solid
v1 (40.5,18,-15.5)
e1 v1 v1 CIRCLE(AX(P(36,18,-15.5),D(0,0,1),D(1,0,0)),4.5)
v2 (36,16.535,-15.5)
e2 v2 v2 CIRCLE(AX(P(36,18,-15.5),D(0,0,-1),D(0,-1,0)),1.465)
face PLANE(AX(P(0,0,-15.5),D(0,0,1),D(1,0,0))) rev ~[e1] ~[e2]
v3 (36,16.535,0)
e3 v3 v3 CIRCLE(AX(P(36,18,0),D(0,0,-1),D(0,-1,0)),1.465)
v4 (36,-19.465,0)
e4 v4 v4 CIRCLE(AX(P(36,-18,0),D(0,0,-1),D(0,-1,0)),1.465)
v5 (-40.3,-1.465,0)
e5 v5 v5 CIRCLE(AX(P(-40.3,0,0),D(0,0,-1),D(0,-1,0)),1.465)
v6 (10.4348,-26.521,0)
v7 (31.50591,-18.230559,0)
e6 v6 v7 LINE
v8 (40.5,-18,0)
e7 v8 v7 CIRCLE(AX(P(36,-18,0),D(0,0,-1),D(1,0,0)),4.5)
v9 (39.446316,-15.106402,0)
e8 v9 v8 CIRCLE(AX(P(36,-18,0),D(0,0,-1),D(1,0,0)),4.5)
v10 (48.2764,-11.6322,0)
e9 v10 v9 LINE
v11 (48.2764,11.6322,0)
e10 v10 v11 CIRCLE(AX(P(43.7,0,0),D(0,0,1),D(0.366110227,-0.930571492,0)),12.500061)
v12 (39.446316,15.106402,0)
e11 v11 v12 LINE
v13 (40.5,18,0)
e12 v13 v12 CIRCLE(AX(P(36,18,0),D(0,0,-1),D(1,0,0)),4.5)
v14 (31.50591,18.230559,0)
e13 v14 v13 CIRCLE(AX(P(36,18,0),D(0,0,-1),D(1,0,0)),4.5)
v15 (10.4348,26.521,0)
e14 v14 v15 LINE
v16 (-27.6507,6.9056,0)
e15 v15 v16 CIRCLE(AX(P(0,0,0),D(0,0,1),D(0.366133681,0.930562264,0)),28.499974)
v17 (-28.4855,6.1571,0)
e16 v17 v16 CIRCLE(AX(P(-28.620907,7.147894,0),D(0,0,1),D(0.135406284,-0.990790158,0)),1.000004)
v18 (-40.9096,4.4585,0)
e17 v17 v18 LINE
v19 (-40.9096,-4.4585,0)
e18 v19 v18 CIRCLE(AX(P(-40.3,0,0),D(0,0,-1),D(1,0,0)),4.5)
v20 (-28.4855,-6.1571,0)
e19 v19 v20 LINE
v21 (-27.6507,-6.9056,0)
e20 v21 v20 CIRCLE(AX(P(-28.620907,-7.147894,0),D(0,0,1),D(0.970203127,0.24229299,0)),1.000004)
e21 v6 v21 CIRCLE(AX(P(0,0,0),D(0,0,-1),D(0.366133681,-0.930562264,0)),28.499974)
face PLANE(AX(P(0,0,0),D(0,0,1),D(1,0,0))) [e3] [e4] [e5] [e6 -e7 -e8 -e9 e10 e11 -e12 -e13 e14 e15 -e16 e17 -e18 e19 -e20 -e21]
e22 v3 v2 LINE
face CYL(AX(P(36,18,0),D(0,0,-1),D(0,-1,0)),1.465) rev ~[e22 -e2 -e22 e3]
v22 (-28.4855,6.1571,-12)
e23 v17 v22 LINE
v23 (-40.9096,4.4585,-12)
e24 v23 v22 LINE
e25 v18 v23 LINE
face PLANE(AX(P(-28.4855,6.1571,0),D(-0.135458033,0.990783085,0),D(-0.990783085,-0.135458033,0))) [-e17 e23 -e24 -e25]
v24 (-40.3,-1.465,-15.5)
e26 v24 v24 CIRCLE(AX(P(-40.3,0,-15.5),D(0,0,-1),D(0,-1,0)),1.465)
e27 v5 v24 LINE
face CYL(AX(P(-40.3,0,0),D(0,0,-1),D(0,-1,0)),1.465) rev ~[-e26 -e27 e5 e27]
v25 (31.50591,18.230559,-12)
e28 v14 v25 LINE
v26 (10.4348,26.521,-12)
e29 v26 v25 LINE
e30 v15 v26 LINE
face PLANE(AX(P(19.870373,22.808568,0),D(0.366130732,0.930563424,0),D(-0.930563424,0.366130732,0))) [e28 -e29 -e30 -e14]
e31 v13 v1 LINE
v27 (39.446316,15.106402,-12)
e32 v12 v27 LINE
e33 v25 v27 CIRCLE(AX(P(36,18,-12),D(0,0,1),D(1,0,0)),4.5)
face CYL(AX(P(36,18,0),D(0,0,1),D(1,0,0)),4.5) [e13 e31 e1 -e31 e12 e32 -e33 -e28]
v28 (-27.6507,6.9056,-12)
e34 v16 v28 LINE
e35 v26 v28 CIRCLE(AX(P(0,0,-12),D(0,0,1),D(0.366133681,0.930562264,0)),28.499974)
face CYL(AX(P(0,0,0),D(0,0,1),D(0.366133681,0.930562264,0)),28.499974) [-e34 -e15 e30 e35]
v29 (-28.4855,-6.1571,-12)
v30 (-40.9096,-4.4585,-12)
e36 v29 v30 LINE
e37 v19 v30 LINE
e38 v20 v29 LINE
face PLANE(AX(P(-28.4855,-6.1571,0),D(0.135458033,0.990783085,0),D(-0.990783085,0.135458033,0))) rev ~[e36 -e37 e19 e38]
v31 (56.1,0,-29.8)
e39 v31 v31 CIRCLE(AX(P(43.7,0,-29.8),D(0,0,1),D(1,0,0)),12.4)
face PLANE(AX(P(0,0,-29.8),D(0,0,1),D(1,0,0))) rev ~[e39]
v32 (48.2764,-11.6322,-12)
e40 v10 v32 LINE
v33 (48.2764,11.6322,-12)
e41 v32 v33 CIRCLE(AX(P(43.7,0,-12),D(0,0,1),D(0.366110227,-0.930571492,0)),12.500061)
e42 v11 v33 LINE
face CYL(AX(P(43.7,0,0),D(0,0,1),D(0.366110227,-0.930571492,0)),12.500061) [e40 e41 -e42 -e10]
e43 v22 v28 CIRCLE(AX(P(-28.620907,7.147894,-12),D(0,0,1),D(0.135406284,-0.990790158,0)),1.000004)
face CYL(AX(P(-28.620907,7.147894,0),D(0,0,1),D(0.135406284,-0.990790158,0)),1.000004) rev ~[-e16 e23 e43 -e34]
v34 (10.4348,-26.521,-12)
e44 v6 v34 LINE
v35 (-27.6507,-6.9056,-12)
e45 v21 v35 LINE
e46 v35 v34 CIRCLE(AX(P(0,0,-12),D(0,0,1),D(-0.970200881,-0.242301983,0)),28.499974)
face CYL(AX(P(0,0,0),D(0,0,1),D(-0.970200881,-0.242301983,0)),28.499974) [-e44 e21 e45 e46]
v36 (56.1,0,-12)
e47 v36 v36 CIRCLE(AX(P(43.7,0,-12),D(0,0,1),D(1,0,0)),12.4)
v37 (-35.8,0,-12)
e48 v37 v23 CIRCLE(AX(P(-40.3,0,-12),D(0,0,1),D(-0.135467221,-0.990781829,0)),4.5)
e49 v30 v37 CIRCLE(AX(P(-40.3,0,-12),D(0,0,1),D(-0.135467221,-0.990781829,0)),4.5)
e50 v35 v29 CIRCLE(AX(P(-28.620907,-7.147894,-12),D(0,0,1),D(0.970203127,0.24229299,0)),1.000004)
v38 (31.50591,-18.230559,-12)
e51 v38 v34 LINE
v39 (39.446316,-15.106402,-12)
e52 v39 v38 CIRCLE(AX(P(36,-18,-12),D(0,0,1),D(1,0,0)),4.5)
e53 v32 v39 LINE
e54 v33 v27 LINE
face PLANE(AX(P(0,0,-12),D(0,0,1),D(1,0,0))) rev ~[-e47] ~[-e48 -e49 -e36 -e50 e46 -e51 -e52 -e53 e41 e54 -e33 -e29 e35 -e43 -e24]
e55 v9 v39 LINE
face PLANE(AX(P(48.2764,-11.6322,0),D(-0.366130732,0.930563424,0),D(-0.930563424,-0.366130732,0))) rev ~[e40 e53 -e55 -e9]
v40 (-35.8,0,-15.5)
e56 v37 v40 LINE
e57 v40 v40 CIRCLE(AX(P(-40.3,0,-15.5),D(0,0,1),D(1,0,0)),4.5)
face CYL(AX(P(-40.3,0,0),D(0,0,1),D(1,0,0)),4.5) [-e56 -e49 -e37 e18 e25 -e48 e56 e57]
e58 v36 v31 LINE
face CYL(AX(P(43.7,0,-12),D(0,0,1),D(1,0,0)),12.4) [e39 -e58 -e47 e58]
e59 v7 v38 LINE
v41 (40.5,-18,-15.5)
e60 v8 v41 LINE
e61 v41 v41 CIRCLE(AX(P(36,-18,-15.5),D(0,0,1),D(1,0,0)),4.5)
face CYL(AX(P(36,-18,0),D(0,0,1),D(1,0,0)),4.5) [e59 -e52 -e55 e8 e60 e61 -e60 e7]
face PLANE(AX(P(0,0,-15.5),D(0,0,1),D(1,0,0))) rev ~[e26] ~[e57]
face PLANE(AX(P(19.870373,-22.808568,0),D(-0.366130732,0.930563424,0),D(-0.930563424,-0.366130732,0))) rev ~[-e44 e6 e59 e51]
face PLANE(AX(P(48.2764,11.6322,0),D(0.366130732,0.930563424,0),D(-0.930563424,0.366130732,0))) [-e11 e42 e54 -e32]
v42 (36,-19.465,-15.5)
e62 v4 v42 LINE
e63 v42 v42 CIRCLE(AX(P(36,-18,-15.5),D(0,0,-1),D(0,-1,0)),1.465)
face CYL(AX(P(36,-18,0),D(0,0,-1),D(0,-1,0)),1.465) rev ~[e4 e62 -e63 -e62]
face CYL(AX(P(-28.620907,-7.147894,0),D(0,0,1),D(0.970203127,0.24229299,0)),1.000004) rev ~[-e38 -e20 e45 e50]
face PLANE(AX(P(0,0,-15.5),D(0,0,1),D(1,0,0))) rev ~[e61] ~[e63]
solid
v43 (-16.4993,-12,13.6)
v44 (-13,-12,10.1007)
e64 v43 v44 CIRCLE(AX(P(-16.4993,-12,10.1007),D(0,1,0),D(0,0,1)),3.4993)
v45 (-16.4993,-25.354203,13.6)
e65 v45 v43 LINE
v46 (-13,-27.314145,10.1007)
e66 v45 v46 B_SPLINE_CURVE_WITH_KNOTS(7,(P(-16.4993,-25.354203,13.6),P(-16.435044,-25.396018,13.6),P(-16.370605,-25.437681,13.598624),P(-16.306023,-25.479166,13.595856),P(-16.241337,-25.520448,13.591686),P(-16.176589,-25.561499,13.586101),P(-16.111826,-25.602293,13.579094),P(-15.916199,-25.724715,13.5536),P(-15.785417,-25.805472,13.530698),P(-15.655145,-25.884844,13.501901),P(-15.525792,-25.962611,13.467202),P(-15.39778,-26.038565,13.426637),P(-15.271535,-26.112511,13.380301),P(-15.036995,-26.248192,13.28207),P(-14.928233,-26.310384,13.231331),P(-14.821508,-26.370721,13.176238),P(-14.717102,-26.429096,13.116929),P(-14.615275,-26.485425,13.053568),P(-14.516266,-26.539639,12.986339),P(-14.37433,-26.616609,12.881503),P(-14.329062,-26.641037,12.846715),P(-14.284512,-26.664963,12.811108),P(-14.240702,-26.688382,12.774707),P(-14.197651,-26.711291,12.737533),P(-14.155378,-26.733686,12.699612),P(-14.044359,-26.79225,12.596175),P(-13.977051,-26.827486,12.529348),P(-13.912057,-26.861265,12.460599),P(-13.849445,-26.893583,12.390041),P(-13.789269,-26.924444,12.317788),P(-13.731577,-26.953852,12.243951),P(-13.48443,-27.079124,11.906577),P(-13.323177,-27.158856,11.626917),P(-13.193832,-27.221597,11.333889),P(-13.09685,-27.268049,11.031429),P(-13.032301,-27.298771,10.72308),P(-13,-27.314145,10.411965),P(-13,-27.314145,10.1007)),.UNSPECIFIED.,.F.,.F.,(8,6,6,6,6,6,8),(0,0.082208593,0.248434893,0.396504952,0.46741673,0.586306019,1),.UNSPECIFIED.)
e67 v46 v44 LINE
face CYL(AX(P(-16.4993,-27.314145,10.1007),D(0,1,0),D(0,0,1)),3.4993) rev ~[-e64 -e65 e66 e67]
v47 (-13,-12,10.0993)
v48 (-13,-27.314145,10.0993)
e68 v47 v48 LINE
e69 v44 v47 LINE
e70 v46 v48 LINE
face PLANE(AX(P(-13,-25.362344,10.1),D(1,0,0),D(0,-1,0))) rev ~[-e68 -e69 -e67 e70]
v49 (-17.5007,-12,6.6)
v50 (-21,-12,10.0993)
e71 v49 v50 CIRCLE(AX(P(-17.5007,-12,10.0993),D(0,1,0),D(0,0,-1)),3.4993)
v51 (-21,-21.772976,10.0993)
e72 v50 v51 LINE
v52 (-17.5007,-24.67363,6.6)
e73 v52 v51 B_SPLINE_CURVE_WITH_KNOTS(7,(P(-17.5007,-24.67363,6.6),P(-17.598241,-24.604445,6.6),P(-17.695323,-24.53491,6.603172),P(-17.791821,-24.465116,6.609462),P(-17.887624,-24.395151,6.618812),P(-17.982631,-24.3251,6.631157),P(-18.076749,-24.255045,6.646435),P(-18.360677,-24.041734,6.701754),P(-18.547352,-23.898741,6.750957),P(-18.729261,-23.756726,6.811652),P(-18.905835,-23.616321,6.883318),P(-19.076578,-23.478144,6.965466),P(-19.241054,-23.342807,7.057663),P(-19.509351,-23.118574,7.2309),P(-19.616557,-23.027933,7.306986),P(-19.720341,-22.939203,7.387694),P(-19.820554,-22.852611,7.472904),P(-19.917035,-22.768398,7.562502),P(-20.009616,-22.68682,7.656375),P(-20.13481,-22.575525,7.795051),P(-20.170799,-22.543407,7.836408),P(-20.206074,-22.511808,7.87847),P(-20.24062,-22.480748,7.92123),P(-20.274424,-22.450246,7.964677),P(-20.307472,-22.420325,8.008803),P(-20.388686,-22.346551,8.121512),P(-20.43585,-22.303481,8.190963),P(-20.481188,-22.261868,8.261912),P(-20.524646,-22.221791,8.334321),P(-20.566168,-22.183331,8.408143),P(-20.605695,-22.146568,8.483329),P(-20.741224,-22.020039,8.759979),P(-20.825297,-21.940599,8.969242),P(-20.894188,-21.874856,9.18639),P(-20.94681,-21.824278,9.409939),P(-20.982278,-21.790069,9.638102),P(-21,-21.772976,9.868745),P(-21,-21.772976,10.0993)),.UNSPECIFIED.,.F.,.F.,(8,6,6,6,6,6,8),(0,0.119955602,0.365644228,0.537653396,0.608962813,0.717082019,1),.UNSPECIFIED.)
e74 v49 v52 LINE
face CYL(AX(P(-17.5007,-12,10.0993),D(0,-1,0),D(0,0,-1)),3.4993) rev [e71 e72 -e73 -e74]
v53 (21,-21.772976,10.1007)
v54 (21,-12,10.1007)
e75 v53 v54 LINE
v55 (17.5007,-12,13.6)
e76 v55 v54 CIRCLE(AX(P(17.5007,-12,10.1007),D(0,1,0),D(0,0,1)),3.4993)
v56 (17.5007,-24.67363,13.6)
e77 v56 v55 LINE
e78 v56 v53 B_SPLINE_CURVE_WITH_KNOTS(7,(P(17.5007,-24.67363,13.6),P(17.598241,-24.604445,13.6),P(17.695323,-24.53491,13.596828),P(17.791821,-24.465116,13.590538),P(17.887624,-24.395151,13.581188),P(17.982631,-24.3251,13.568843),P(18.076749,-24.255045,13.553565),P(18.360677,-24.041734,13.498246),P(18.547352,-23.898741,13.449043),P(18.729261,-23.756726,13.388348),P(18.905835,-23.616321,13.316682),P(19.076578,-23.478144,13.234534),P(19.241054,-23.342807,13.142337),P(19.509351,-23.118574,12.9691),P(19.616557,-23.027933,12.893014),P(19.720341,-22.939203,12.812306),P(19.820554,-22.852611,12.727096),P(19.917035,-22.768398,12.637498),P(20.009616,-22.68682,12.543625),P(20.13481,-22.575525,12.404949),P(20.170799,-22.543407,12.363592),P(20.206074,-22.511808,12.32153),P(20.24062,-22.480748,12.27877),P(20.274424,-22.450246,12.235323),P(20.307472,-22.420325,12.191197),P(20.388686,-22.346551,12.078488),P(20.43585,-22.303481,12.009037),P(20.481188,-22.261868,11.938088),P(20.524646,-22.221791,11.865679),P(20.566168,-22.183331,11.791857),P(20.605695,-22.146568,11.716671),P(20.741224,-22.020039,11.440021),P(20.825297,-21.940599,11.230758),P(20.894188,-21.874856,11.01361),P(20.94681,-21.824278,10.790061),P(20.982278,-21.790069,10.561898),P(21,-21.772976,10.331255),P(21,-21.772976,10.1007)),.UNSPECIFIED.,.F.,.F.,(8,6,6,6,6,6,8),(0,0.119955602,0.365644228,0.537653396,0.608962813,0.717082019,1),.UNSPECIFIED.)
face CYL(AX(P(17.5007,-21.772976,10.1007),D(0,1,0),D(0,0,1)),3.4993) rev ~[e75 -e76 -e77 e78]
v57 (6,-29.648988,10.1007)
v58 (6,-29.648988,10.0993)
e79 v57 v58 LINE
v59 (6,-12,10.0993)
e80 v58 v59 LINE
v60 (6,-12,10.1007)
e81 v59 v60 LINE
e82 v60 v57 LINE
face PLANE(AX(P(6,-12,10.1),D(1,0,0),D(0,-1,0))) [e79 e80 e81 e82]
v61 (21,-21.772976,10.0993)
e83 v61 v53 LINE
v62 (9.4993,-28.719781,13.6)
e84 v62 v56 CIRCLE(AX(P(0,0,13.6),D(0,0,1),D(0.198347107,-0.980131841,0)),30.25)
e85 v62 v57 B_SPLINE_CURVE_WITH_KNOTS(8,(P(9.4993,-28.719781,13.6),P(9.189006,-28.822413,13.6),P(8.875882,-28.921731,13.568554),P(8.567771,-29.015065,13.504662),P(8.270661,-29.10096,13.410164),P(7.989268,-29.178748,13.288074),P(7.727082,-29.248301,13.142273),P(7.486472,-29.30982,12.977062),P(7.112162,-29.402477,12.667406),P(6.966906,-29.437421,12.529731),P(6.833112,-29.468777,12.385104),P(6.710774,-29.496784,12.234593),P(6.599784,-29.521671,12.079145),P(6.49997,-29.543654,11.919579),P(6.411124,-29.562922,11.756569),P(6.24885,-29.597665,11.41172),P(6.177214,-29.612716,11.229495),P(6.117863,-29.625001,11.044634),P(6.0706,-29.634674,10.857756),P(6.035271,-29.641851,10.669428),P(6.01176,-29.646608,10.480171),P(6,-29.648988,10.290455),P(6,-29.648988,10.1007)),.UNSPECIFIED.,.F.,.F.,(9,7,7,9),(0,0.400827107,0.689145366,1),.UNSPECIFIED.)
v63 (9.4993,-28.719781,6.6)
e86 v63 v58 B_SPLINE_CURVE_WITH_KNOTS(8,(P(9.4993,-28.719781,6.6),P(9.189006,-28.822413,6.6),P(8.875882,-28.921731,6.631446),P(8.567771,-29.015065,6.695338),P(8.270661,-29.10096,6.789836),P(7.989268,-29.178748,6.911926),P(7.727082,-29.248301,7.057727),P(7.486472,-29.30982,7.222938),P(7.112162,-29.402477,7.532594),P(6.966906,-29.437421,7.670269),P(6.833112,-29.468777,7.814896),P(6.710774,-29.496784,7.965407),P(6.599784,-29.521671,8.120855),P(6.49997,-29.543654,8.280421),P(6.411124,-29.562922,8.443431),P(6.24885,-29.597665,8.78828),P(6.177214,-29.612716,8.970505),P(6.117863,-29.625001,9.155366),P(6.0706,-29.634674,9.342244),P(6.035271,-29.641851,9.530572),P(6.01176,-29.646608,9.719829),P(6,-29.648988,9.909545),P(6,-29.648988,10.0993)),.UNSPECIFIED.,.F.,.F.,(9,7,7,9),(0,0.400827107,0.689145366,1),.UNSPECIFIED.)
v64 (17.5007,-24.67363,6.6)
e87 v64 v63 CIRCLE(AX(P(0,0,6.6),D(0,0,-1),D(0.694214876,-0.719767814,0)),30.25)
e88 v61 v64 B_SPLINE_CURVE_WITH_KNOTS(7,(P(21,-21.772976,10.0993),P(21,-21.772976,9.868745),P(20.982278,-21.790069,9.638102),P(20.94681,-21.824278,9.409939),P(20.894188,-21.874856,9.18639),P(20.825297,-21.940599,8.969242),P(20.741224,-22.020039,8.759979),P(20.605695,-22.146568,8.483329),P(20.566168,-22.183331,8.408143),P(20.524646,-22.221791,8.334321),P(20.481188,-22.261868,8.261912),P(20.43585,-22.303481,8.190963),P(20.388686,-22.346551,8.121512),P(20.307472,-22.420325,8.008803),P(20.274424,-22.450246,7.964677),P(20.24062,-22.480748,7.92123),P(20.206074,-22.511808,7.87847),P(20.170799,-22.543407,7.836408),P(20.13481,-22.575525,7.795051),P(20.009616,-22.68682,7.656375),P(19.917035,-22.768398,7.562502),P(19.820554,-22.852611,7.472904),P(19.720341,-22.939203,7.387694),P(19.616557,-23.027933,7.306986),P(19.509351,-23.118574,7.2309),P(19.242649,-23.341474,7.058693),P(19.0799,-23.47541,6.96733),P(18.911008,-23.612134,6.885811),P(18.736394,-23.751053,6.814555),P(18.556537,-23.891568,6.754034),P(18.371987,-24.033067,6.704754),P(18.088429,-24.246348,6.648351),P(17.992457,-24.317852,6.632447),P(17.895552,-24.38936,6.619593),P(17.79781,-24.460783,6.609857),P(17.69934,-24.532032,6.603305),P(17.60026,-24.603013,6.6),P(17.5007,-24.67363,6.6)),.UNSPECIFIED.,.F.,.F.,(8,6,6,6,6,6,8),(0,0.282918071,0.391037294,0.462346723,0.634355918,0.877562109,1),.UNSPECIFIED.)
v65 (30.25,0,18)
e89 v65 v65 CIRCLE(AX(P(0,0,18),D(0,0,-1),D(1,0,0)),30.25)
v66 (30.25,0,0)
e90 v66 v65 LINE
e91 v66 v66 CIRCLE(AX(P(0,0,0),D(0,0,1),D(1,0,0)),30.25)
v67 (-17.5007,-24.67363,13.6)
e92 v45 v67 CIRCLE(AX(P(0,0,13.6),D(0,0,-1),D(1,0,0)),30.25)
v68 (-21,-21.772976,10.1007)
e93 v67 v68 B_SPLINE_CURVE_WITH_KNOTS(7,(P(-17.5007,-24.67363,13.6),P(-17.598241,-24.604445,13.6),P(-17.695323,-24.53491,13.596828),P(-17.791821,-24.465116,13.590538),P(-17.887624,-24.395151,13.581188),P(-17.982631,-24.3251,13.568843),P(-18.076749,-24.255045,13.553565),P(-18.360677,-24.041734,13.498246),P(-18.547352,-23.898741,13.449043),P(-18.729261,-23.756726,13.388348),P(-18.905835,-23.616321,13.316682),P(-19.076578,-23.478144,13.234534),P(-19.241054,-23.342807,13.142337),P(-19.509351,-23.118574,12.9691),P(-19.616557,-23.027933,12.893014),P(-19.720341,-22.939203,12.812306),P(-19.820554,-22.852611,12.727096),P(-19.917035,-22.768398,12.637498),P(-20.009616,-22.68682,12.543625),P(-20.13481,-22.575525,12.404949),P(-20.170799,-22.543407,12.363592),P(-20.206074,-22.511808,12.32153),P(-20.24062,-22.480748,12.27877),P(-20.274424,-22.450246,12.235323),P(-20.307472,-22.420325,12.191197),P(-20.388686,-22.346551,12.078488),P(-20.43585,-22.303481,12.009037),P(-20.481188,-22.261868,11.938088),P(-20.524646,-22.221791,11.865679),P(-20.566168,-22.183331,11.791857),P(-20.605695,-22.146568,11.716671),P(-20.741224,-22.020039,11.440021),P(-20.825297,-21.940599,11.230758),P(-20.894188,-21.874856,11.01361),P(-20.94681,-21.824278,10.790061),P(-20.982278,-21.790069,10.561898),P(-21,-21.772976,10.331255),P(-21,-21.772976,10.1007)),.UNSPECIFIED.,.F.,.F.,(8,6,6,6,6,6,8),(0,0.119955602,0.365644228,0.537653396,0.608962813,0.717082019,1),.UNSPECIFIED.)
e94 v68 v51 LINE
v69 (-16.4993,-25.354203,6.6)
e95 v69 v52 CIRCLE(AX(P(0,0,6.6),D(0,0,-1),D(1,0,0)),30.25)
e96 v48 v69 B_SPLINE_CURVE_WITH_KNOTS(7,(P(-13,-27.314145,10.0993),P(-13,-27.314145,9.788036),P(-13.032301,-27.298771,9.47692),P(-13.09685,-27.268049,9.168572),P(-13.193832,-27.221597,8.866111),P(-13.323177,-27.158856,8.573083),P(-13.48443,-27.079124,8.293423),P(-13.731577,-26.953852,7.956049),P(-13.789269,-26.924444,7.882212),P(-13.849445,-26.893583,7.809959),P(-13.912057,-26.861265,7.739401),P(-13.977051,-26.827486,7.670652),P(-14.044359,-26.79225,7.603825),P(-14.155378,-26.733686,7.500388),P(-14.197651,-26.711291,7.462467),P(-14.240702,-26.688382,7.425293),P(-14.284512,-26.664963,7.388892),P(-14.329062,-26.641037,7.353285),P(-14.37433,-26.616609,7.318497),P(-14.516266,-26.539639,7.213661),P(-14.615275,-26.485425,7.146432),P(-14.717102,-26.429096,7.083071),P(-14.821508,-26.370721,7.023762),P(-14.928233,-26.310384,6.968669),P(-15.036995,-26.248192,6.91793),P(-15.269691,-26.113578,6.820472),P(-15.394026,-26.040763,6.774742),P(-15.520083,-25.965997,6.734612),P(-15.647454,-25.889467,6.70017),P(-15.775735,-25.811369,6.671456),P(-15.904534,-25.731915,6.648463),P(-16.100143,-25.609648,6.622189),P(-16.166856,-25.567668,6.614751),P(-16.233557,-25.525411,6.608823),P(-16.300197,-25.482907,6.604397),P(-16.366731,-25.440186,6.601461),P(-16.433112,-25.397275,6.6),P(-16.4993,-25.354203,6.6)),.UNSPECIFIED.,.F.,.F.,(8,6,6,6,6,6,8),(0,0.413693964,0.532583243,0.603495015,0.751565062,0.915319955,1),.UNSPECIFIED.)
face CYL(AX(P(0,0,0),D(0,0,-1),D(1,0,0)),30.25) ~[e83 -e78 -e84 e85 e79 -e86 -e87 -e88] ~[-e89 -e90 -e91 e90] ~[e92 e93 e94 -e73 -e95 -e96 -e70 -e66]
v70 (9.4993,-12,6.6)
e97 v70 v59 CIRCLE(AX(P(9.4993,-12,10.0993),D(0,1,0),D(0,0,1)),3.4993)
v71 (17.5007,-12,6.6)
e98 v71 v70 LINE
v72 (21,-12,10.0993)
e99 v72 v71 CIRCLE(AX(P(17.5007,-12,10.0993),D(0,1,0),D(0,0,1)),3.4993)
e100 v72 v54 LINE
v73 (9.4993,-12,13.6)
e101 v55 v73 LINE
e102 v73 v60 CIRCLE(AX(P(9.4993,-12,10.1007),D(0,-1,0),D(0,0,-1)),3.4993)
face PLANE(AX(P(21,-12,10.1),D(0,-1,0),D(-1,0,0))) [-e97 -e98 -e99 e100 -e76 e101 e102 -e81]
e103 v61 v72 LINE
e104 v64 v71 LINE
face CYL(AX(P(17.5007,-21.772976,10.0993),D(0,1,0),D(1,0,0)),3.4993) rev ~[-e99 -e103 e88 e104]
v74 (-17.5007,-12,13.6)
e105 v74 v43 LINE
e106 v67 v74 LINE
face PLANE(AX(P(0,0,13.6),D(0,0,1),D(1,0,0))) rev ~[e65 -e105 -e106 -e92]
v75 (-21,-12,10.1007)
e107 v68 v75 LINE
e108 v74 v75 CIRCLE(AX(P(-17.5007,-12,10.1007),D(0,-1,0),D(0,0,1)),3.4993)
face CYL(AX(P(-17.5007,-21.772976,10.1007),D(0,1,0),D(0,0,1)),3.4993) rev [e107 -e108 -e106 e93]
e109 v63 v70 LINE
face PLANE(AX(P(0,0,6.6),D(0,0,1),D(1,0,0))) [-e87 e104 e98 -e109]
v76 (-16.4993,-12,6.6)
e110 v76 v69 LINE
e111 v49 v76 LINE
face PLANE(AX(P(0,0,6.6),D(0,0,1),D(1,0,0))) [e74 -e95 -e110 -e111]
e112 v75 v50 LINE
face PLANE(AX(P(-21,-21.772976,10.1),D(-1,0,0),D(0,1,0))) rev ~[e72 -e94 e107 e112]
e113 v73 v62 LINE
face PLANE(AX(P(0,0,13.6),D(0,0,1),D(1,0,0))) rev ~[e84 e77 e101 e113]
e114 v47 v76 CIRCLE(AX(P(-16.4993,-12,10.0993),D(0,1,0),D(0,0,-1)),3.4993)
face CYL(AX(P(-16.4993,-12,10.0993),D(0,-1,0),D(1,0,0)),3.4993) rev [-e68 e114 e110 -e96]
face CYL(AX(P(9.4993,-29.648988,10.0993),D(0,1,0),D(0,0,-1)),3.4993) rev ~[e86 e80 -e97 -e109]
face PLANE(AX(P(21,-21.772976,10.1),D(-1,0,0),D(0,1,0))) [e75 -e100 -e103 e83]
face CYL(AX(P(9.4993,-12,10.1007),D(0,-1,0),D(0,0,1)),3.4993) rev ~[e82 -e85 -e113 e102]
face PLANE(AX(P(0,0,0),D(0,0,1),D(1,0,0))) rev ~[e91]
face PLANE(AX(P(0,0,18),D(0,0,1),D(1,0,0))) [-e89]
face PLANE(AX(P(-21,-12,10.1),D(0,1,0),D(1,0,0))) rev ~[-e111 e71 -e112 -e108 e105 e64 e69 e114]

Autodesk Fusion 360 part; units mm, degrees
sketch "Sketch1" plane through (0, 0, 0) normal (0, 0, 1) x (1, 0, 0)
  circle A0 centre (0, 0) radius 30.25
  circle A1 centre (-40.3, 0) radius 4.5
  line L0 (-44.8, 0) -> (56.2, 0) construction
  circle A2 centre (36, 18) radius 4.5
  circle A3 centre (36, -18) radius 4.5
  line L1 (48.2764, -11.6322) -> (10.4348, -26.521)
  line L2 (48.2764, 11.6322) -> (10.4348, 26.521)
  circle A4 centre (43.7, 0) radius 12.4
  arc A5 (48.2764, -11.6322) -> (48.2764, 11.6322) centre (43.7, 0) ccw
  line L3 (-26, 0) -> (-26, 6.25) construction
  line L4 (-26, 6.25) -> (-27.8062, 6.25) construction
  line L5 (-28.4855, 6.1571) -> (-40.9096, 4.4585)
  line L6 (-28.4855, -6.1571) -> (-40.9096, -4.4585)
  arc A6 (10.4348, 26.521) -> (-27.6507, 6.9056) centre (0, 0) ccw
  arc A7 (-27.6507, -6.9056) -> (10.4348, -26.521) centre (0, 0) ccw
  arc A8 (-28.4855, 6.1571) -> (-27.6507, 6.9056) centre (-28.6209, 7.1479) ccw
  arc A9 (-27.6507, -6.9056) -> (-28.4855, -6.1571) centre (-28.6209, -7.1479) ccw
  line L7 (0, -32) -> (6, -32) construction
  line L8 (6, -32) -> (21, -32)
  line L9 (21, -32) -> (21, -12)
  line L10 (21, -12) -> (6, -12)
  line L11 (6, -12) -> (6, -32)
  line L12 (0, -32) -> (-13, -32) construction
  line L13 (-13, -32) -> (-21, -32)
  line L14 (-21, -32) -> (-21, -12)
  line L15 (-21, -12) -> (-13, -12)
  line L16 (-13, -12) -> (-13, -32)
  point P0 (-40.3, 0)
  dimension "d1" = 60.5
  dimension "d2" = 36
  dimension "d3" = 40.3
  dimension "d5" = 9
  dimension "d6" = 101
  dimension "d7" = 57
  dimension "d8" = 25
  dimension "d9" = 12.5
  dimension "d10" = 9
  dimension "d11" = 9
  dimension "d14" = 24.8
  dimension "d15" = 36
  dimension "d16" = 6.25
  dimension "d17" = 1
  dimension "d18" = 1
  dimension "d19" = 6
  dimension "d20" = 15
  dimension "d21" = 20
  dimension "d22" = 13
  dimension "d23" = 8
  dimension "d24" = 20
extrude "Extrude1" add sketch "Sketch1" along normal blind 18 contours A0 L2 L5 L6 A6 A7 A8 A9 L9 L10 L11 L14 L15 L16 | A0 L2 L5 A6 A8 | A0 L1 A7 L9 L10 L11 | A0 L1 A7 L11 | A0 L6 A7 A9 L14 | A0 A7 L11 L16 | A0 A7 L14 L16 | A7 L14 L15 L16 makes body 1 in component "Scanner"
extrude "Extrude2" cut sketch "Sketch1" along normal mid plane 7 from surface at 10.1 contours A0 L1 A7 L9 L10 L11 | A0 L1 L8 L9 L11 | A0 L1 A7 L11 | A0 A7 L14 L16 | A0 L13 L14 L16 | A7 L14 L15 L16 bodies 1 in component "Scanner"
fillet "Fillet1" radius 3.5 8 edges at (21, -16.8865, 6.6) (21, -16.8865, 13.6) (6, -20.8245, 13.6) (6, -20.8245, 6.6) (-13, -19.6571, 6.6) (-13, -19.6571, 13.6) (-21, -16.8865, 13.6) (-21, -16.8865, 6.6) on bodies 1 in component "Scanner"
extrude "Extrude1'" add sketch "Sketch1" against normal blind 12 separate body contours A0 L2 L5 L6 A6 A7 A8 A9 L9 L10 L11 L14 L15 L16 | A0 A2 A3 L1 L2 A5 L9 | A0 L1 L9 | A0 L1 A7 L9 L10 L11 | A0 A1 L5 L6 | A7 L14 L15 L16 | A4 makes body 2 in component "Base"
extrude "Extrude2'" add sketch "Sketch1" against normal blind 15.5 contours A2 L2 | A2 L2 | A1 | A3 L1 | A3 L1 bodies 2 in component "Base"
extrude "Extrude3" add sketch "Sketch1" against normal blind 17.8 from surface at -12 contours A4 bodies 2 in component "Base"
hole "Hole1" at (-40.3, 0, 0) at (36, 18, 0) at (36, -18, 0) direction (0, 0, -1) diameter 2.93 end up to surface (15.5 mm away) bodies 2 in component "Base"
component "Base" placed x (1, 0, 0) y (0, 1, 0) z (0, 0, 1) at (0, 0, 0)
component "Scanner" placed x (1, 0, 0) y (0, 1, 0) z (0, 0, 1) at (0, 0, 0)
